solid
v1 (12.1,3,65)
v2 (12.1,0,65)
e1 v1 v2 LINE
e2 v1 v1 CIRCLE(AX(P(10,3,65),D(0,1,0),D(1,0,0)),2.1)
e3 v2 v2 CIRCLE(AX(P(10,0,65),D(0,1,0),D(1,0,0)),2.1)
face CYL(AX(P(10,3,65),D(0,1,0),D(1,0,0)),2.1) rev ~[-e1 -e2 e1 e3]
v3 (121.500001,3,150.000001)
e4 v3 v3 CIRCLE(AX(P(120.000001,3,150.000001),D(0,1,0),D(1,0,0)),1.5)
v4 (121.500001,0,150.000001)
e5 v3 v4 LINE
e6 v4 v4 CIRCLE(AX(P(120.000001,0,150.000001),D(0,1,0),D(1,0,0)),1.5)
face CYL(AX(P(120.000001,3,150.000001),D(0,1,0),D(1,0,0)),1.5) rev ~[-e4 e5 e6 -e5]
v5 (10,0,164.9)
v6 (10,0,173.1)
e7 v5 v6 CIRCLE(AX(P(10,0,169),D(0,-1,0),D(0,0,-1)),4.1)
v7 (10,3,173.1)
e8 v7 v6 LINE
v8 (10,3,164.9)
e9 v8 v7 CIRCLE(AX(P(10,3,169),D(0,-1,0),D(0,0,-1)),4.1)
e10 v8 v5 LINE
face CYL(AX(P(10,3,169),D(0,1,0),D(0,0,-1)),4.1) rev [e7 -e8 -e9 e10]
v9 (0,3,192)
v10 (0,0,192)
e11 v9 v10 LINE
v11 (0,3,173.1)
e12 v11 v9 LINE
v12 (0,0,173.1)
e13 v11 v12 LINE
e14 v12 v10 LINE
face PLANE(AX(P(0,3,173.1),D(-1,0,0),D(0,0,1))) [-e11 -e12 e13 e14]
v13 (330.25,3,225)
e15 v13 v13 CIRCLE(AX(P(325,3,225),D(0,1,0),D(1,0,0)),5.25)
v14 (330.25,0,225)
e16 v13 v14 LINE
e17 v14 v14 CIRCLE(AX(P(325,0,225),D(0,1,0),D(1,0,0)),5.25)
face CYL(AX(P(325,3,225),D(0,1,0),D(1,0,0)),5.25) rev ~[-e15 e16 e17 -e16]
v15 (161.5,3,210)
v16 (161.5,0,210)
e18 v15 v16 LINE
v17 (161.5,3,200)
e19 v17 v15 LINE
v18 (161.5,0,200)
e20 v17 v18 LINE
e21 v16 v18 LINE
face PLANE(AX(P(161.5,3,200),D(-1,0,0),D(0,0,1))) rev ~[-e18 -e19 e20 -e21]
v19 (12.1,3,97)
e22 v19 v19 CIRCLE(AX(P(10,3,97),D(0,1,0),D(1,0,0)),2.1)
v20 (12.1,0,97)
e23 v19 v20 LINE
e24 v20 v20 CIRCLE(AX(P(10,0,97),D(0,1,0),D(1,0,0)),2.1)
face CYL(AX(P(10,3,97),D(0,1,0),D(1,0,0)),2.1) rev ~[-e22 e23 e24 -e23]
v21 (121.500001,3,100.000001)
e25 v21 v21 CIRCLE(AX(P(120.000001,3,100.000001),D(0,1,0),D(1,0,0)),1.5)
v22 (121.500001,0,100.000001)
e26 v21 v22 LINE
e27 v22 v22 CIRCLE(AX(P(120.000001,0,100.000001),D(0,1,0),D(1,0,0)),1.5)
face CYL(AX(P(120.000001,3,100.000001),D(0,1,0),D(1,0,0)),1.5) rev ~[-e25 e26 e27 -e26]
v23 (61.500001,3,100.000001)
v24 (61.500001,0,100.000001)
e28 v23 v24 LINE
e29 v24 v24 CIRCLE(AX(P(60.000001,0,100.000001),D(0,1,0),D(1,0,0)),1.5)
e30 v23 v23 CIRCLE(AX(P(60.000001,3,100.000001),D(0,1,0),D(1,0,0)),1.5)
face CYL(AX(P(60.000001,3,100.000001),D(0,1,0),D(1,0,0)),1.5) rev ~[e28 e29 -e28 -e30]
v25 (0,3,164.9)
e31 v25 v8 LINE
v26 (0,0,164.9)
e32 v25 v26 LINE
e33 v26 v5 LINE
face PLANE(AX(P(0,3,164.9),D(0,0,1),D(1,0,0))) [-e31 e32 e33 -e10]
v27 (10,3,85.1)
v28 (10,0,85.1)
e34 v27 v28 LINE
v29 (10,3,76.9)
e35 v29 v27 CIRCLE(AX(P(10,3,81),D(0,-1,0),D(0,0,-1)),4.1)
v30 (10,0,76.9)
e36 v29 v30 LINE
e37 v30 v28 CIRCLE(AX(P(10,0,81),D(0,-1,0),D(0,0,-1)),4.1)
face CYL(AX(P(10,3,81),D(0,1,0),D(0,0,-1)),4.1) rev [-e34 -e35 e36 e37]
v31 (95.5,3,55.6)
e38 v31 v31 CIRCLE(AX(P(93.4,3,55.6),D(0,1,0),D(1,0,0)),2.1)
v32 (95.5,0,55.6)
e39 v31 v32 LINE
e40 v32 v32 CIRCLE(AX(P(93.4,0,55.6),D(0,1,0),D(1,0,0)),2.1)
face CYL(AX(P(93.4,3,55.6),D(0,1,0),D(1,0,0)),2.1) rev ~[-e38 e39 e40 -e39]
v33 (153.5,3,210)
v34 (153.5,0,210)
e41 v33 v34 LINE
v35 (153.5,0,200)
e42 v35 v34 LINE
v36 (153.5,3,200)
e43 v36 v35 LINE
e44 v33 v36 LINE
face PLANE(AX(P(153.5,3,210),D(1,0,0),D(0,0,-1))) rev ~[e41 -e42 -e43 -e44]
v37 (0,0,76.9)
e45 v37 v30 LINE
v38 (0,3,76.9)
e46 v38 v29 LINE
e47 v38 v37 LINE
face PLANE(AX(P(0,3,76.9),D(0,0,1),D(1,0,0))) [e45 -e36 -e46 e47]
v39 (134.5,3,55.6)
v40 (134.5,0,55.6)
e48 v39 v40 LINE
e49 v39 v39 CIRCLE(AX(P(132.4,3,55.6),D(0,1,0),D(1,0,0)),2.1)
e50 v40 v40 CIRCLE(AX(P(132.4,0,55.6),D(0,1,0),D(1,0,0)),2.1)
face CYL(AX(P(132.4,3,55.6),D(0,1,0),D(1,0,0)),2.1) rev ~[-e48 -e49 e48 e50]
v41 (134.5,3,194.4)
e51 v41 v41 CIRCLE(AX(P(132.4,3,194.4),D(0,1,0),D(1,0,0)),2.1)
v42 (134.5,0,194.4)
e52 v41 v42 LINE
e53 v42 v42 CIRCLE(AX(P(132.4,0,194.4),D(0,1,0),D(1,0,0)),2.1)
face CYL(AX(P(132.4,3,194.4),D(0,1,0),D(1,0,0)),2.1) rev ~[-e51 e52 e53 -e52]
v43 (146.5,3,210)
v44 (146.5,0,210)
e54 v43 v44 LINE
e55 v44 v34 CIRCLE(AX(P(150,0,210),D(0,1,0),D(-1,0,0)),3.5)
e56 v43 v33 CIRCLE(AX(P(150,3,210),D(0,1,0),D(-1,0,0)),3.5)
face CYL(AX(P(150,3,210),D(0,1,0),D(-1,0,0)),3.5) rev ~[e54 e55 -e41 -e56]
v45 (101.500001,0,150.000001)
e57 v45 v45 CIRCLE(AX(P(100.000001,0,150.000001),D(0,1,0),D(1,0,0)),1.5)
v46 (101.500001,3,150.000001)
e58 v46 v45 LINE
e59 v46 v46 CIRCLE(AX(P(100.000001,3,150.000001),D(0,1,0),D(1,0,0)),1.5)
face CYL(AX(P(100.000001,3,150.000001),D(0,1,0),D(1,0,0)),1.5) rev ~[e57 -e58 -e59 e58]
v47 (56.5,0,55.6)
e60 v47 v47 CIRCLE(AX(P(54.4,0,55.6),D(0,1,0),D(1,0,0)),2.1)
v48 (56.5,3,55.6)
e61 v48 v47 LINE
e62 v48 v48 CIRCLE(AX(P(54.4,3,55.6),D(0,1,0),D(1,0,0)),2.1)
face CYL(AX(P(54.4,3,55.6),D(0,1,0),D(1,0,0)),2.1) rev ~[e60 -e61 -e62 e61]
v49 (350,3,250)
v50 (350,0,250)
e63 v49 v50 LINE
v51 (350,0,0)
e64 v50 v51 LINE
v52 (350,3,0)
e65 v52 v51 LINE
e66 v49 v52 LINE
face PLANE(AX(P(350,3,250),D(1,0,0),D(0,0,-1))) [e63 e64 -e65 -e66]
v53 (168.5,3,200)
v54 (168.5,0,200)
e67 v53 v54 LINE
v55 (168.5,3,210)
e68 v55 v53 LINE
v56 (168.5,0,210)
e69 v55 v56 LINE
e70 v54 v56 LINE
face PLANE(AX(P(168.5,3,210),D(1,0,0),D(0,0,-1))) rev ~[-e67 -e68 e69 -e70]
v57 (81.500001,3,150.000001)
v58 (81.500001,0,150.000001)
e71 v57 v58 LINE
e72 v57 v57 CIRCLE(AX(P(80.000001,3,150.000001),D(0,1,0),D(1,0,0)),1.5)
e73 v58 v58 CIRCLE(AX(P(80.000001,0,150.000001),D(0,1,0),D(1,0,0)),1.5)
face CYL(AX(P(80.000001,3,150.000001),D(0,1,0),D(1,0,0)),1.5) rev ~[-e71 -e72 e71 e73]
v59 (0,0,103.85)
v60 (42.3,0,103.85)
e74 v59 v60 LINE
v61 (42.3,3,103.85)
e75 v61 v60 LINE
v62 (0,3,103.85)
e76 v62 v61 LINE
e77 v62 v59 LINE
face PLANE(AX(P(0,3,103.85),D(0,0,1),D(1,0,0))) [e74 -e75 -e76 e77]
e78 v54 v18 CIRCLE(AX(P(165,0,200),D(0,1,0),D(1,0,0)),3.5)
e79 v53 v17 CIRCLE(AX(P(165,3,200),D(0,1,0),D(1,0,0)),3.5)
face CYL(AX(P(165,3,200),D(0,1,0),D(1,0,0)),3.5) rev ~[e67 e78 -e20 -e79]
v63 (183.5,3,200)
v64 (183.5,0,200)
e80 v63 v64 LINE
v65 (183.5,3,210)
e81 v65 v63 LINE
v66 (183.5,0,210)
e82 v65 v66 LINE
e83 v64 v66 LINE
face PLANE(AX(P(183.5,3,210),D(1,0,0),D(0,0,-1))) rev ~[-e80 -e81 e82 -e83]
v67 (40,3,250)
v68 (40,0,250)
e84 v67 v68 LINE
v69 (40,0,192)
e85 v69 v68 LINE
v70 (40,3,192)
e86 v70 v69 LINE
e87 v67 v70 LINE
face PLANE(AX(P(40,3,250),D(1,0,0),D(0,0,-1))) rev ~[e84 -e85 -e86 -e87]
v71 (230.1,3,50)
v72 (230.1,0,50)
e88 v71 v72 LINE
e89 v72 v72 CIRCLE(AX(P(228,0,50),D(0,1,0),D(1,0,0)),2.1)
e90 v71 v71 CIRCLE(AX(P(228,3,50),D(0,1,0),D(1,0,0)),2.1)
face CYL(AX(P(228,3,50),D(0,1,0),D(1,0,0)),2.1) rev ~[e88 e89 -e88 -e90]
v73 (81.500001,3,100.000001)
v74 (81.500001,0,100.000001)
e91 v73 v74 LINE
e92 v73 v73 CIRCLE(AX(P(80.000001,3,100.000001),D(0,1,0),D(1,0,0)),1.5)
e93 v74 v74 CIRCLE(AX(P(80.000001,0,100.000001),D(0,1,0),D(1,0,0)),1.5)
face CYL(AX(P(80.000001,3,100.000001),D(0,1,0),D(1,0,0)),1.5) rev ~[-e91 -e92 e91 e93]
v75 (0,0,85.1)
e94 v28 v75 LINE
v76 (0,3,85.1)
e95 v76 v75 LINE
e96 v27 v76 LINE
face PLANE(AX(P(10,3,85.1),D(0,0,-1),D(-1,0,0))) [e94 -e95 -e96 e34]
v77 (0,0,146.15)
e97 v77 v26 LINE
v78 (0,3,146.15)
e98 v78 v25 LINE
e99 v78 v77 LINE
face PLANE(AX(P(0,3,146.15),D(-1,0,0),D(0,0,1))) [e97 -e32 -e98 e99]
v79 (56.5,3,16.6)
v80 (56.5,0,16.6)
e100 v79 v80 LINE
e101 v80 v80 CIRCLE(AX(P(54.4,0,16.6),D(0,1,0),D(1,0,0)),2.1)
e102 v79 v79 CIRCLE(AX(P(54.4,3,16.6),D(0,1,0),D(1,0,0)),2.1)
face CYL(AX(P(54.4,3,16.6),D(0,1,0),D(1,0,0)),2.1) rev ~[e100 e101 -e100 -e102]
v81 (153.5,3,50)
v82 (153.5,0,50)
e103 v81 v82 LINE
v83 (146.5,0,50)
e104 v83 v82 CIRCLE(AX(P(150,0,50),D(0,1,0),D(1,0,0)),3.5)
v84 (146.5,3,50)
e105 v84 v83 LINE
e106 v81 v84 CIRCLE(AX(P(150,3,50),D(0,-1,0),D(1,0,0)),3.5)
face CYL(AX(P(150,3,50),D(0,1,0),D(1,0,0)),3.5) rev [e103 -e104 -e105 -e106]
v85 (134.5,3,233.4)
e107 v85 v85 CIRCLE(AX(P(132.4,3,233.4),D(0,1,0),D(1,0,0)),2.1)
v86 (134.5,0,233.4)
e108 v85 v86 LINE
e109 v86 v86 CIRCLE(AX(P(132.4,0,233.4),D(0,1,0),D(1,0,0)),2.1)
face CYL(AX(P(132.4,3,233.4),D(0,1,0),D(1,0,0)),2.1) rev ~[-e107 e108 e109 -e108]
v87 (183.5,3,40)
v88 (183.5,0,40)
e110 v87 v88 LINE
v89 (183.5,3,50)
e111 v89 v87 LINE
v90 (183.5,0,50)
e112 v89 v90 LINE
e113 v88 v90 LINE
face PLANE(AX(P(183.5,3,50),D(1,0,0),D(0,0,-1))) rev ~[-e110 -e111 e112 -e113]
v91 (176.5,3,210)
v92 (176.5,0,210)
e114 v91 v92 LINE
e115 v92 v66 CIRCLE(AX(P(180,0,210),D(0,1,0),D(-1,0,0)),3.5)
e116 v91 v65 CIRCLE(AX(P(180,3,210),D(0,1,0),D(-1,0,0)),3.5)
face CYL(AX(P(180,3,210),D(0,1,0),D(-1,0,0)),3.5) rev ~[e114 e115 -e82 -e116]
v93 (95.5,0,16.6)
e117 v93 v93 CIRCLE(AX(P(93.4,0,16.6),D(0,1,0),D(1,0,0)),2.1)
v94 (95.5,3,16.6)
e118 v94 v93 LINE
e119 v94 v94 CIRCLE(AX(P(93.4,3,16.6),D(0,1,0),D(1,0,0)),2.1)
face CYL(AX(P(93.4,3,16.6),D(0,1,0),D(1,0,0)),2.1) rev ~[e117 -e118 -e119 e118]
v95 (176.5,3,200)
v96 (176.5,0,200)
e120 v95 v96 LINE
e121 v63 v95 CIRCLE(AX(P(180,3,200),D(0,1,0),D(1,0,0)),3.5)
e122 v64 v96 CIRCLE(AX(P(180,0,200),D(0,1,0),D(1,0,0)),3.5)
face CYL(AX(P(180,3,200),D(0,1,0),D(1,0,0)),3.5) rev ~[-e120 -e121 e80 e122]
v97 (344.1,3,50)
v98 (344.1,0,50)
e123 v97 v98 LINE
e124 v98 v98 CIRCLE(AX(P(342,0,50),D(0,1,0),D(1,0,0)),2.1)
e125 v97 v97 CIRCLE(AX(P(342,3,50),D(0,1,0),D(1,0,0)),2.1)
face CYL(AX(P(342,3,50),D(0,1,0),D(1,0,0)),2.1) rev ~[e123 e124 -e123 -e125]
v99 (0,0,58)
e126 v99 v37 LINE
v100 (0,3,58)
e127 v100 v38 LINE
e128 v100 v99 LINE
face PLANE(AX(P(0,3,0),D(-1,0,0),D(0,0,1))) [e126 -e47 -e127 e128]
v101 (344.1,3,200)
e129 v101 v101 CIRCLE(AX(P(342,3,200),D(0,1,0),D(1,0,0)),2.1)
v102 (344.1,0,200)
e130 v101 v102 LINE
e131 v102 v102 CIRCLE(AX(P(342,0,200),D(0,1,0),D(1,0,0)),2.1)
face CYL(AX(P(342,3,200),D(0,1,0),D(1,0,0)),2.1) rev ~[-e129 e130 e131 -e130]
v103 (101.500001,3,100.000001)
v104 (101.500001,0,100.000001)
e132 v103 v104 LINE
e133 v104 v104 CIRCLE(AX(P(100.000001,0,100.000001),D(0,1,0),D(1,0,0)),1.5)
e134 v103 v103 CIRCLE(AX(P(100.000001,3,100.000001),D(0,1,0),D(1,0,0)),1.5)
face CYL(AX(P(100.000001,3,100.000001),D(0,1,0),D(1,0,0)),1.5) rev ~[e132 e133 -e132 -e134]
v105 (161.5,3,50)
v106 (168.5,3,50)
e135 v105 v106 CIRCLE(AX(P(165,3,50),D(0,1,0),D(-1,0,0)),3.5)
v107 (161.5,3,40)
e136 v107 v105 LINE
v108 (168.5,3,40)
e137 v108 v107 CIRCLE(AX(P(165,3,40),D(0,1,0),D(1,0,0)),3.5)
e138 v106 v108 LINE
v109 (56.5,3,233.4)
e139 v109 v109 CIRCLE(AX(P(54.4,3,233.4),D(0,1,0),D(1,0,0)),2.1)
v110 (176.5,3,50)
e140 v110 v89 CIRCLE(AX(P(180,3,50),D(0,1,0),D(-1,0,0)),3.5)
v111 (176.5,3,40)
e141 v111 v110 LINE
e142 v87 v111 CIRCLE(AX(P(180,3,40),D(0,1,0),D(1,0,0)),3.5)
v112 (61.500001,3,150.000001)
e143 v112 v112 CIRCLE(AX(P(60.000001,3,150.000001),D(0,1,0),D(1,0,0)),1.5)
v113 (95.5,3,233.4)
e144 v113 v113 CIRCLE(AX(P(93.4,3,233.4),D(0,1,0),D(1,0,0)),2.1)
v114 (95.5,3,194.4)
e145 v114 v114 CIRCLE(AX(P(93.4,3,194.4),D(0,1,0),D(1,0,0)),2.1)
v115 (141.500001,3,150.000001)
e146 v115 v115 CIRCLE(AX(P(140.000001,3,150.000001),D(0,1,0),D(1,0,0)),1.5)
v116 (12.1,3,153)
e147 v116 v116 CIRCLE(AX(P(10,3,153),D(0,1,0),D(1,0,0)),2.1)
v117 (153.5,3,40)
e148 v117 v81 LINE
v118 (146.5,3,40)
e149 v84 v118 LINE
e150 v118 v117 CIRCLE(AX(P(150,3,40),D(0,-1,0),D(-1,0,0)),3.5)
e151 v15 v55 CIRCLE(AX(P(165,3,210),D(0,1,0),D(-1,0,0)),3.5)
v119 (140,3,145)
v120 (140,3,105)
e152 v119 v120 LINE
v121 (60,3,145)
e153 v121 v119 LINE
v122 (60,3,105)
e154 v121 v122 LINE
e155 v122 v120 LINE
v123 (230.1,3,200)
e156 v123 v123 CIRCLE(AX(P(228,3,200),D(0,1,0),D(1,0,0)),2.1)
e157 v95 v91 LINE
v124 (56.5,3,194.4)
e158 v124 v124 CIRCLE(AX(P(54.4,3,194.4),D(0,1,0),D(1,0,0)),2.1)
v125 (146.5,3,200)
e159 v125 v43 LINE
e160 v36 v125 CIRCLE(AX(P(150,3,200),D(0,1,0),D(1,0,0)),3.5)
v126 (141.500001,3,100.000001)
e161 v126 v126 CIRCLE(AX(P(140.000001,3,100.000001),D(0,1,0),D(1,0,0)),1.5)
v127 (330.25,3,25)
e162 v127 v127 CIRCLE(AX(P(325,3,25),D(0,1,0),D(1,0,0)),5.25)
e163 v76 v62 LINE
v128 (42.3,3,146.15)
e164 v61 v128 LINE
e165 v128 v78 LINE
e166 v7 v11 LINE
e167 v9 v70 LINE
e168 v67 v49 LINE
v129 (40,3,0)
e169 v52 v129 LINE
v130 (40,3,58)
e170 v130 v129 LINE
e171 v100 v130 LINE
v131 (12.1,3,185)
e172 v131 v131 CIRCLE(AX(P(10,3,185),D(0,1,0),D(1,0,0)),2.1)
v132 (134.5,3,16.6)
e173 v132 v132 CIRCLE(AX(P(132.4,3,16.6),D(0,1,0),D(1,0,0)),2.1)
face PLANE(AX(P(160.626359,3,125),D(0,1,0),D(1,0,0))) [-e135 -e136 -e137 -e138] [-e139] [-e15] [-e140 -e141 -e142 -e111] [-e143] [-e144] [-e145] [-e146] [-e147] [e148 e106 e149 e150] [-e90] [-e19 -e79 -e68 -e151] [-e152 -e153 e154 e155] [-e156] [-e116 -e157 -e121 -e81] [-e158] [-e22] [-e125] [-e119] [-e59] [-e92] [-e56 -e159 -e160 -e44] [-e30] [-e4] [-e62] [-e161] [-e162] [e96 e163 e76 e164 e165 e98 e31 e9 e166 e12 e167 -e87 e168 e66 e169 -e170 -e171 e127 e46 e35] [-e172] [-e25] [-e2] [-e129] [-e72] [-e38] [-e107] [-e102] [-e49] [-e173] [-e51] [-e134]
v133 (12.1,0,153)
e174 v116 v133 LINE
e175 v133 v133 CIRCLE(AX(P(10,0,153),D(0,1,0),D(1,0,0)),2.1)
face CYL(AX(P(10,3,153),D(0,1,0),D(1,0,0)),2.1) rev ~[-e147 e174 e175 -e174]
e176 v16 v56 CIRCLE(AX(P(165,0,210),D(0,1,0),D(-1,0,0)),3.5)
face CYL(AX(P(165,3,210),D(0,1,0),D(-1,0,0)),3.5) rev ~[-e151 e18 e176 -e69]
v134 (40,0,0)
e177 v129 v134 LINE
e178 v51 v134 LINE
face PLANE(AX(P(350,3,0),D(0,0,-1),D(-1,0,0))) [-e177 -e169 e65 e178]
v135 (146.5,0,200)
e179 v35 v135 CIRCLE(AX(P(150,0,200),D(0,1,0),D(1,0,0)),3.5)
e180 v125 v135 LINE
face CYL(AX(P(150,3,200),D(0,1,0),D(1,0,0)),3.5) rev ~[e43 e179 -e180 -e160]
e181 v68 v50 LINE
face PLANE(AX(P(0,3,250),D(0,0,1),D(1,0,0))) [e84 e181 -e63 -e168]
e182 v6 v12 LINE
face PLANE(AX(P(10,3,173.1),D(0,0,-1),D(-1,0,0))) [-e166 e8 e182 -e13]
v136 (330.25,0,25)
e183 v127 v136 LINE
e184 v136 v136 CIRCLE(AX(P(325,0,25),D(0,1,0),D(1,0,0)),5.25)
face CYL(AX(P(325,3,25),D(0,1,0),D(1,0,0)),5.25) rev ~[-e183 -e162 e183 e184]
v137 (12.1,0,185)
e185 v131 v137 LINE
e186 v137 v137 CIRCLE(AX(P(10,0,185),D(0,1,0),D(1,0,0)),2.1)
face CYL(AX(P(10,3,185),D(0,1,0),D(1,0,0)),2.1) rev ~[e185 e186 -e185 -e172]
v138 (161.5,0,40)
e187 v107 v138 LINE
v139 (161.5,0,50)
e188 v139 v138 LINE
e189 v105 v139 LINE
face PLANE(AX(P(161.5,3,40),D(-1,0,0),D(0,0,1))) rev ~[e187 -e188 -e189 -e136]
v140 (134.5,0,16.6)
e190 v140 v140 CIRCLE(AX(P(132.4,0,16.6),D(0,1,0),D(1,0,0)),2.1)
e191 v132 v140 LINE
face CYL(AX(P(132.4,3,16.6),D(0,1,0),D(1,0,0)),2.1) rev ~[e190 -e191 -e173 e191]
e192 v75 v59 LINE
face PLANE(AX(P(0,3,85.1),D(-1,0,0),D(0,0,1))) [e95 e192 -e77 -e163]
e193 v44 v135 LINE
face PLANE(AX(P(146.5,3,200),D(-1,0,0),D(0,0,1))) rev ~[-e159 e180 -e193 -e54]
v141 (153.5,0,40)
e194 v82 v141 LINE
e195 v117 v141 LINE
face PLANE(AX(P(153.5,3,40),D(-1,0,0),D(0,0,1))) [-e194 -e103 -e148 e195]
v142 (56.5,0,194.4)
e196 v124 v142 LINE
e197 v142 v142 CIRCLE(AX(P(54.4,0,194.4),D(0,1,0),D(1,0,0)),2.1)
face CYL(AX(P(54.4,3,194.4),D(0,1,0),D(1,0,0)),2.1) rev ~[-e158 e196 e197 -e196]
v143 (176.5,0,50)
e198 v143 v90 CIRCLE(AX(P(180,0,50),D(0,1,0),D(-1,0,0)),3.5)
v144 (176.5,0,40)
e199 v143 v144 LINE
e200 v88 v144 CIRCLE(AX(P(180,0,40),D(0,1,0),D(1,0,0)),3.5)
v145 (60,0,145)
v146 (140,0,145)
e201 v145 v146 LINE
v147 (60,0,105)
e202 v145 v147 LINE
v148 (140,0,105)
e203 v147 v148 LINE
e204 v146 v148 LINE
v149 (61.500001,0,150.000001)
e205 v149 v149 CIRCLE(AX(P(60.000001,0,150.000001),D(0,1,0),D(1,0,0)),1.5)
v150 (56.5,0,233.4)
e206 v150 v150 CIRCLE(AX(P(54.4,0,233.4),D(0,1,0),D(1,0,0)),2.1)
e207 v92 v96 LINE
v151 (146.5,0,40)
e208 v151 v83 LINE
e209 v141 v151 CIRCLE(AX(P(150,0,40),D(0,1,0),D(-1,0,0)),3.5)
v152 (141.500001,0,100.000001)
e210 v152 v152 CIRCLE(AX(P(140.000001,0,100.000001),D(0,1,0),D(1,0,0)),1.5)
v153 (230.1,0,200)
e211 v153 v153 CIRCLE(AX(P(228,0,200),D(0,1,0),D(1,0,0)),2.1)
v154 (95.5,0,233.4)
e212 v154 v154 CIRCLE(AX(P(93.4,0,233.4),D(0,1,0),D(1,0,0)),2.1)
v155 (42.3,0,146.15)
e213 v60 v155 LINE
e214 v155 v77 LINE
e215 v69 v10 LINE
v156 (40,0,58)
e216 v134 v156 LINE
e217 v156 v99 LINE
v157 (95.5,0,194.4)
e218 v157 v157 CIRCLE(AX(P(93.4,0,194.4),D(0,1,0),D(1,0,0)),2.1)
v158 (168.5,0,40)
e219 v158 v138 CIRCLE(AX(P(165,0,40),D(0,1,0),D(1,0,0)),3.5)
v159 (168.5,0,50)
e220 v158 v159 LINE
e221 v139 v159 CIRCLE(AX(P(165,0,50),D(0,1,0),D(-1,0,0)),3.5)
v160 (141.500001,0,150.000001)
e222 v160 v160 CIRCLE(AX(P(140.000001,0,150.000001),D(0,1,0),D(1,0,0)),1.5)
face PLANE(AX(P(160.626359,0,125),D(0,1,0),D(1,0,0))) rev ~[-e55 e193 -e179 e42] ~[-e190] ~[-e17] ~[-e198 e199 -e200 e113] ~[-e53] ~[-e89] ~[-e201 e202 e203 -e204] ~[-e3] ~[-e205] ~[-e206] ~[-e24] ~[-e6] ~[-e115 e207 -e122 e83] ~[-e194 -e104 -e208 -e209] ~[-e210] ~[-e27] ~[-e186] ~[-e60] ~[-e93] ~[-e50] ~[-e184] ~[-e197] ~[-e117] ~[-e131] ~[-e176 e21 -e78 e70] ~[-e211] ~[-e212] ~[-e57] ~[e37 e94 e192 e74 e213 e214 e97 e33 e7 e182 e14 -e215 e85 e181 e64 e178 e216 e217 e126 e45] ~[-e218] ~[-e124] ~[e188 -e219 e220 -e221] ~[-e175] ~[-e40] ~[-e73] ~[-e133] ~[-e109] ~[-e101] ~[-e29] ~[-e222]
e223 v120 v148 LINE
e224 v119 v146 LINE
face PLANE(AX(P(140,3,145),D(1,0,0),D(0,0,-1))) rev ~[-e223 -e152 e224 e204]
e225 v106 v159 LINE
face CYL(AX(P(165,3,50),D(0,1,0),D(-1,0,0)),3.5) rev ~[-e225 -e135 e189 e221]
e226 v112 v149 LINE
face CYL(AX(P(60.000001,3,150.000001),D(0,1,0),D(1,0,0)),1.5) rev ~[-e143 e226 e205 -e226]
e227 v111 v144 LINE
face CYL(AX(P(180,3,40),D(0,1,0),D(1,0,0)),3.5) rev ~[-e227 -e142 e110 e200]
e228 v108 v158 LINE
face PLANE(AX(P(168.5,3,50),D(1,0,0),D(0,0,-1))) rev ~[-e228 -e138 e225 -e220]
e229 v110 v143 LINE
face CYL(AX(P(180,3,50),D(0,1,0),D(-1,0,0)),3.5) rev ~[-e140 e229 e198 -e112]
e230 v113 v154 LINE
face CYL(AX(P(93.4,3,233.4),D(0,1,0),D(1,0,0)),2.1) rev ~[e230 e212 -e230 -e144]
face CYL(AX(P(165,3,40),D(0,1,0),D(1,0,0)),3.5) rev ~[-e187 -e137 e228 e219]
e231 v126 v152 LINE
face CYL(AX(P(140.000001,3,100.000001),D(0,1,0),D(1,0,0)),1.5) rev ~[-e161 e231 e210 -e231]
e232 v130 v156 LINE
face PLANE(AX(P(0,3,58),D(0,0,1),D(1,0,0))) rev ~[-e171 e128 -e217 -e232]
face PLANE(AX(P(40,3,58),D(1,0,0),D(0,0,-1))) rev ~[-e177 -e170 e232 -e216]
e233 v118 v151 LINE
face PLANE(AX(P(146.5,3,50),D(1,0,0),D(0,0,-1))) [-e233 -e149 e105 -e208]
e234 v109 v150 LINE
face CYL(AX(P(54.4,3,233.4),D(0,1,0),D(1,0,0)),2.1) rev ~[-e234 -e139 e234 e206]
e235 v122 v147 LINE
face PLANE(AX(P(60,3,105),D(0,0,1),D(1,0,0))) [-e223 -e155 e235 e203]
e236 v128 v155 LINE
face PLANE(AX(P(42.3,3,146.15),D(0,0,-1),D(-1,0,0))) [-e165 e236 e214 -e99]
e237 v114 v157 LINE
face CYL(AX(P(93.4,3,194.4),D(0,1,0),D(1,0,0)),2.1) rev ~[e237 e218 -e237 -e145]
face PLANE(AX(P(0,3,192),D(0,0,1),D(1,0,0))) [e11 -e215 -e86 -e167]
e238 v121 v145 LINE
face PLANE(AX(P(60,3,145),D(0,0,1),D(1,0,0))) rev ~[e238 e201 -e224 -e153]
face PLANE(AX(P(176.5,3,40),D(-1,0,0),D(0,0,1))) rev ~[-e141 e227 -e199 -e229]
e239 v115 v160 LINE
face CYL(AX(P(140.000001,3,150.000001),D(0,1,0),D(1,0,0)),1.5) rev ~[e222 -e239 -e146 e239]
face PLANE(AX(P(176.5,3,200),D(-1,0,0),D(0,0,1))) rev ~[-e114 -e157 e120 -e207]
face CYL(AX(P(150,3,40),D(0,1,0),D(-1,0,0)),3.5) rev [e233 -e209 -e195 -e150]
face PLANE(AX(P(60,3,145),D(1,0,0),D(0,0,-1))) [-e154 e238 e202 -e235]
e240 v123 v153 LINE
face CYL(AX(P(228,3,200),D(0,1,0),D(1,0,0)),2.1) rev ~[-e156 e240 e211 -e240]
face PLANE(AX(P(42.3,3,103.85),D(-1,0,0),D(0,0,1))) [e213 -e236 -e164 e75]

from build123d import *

# Parameters (mm, degrees)
ESQUISSE1_R             = 1.5
ESQUISSE1_R_2           = 5.25
ESQUISSE1_R_3           = 2.1
ESQUISSE1_W             = 80
ESQUISSE1_H             = 40
BOSS_EXTRU_1_DEPTH      = 3
ENL_V_MAT_EXTRU_1_REACH = 5
ESQUISSE2_R             = 2.1
ESQUISSE2_W             = 40
ESQUISSE2_H             = 58


with BuildPart() as part:
    # Esquisse1 → Boss.-Extru.1 (new body)
    with BuildSketch(Plane(origin=(0, 3, 0), x_dir=(1, 0, 0), z_dir=(0, 1, 0))):
        with BuildLine():
            Line((0, -103.85), (42.3, -103.85))
            Line((42.3, -103.85), (42.3, -146.15))
            Line((42.3, -146.15), (0, -146.15))
            Line((0, -146.15), (0, -164.900000363))
            Line((0, -164.900000363), (10.000000149, -164.900000363))
            ThreePointArc((10.000000149, -164.900000363), (14.100000149, -169.000000363), (10.000000149, -173.100000363))
            Line((10.000000149, -173.100000363), (0, -173.100000363))
            Line((0, -173.100000363), (0, -250))
            Line((0, -250), (350, -250))
            Line((350, -250), (350, 0))
            Line((350, 0), (0, 0))
            Line((0, 0), (0, -76.900000363))
            Line((0, -76.900000363), (10.000000149, -76.900000363))
            ThreePointArc((10.000000149, -76.900000363), (14.100000149, -81.000000363), (10.000000149, -85.100000363))
            Line((10.000000149, -85.100000363), (0, -85.100000363))
            Line((0, -85.100000363), (0, -103.85))
        make_face()
        with Locations((140.000001341, -150.00000149)):
            Circle(ESQUISSE1_R, mode=Mode.SUBTRACT)
        with Locations((120.000001341, -150.00000149)):
            Circle(ESQUISSE1_R, mode=Mode.SUBTRACT)
        with Locations((100.000001341, -150.00000149)):
            Circle(ESQUISSE1_R, mode=Mode.SUBTRACT)
        with Locations((80.000001341, -150.00000149)):
            Circle(ESQUISSE1_R, mode=Mode.SUBTRACT)
        with Locations((60.000001341, -150.00000149)):
            Circle(ESQUISSE1_R, mode=Mode.SUBTRACT)
        with Locations((140.000001341, -100.00000149)):
            Circle(ESQUISSE1_R, mode=Mode.SUBTRACT)
        with Locations((120.000001341, -100.00000149)):
            Circle(ESQUISSE1_R, mode=Mode.SUBTRACT)
        with Locations((100.000001341, -100.00000149)):
            Circle(ESQUISSE1_R, mode=Mode.SUBTRACT)
        with Locations((80.000001341, -100.00000149)):
            Circle(ESQUISSE1_R, mode=Mode.SUBTRACT)
        with Locations((60.000001341, -100.00000149)):
            Circle(ESQUISSE1_R, mode=Mode.SUBTRACT)
        with Locations((325, -225)):
            Circle(ESQUISSE1_R_2, mode=Mode.SUBTRACT)
        with Locations((325, -25)):
            Circle(ESQUISSE1_R_2, mode=Mode.SUBTRACT)
        with Locations((10, -97)):
            Circle(ESQUISSE1_R_3, mode=Mode.SUBTRACT)
        with Locations((10, -153)):
            Circle(ESQUISSE1_R_3, mode=Mode.SUBTRACT)
        with Locations((10, -185)):
            Circle(ESQUISSE1_R_3, mode=Mode.SUBTRACT)
        with Locations((10, -65)):
            Circle(ESQUISSE1_R_3, mode=Mode.SUBTRACT)
        with Locations((100, -125)):
            Rectangle(ESQUISSE1_W, ESQUISSE1_H, mode=Mode.SUBTRACT)
    extrude(amount=-BOSS_EXTRU_1_DEPTH)

    # Esquisse2 → Enlèv. mat.-Extru.1 (cut, up to next)
    with BuildSketch(Plane(origin=(0, 3, 0), x_dir=(1, 0, 0), z_dir=(0, 1, 0)), mode=Mode.PRIVATE) as enl_v_mat_extru_1_sk1:
        with Locations((54.4, -194.4)):
            Circle(ESQUISSE2_R)
    enl_v_mat_extru_1_tool1 = extrude(enl_v_mat_extru_1_sk1.sketch, amount=-ENL_V_MAT_EXTRU_1_REACH, mode=Mode.PRIVATE) & part.part
    add(enl_v_mat_extru_1_tool1.solids().sort_by_distance((54.4, 3, 194.4))[0], mode=Mode.SUBTRACT)
    # Esquisse2 → Enlèv. mat.-Extru.1 (cut, up to next)
    with BuildSketch(Plane(origin=(0, 3, 0), x_dir=(1, 0, 0), z_dir=(0, 1, 0)), mode=Mode.PRIVATE) as enl_v_mat_extru_1_sk2:
        with Locations((93.4, -194.4)):
            Circle(ESQUISSE2_R)
    enl_v_mat_extru_1_tool2 = extrude(enl_v_mat_extru_1_sk2.sketch, amount=-ENL_V_MAT_EXTRU_1_REACH, mode=Mode.PRIVATE) & part.part
    add(enl_v_mat_extru_1_tool2.solids().sort_by_distance((93.4, 3, 194.4))[0], mode=Mode.SUBTRACT)
    # Esquisse2 → Enlèv. mat.-Extru.1 (cut, up to next)
    with BuildSketch(Plane(origin=(0, 3, 0), x_dir=(1, 0, 0), z_dir=(0, 1, 0)), mode=Mode.PRIVATE) as enl_v_mat_extru_1_sk3:
        with Locations((93.4, -233.4)):
            Circle(ESQUISSE2_R)
    enl_v_mat_extru_1_tool3 = extrude(enl_v_mat_extru_1_sk3.sketch, amount=-ENL_V_MAT_EXTRU_1_REACH, mode=Mode.PRIVATE) & part.part
    add(enl_v_mat_extru_1_tool3.solids().sort_by_distance((93.4, 3, 233.4))[0], mode=Mode.SUBTRACT)
    # Esquisse2 → Enlèv. mat.-Extru.1 (cut, up to next)
    with BuildSketch(Plane(origin=(0, 3, 0), x_dir=(1, 0, 0), z_dir=(0, 1, 0)), mode=Mode.PRIVATE) as enl_v_mat_extru_1_sk4:
        with Locations((54.4, -233.4)):
            Circle(ESQUISSE2_R)
    enl_v_mat_extru_1_tool4 = extrude(enl_v_mat_extru_1_sk4.sketch, amount=-ENL_V_MAT_EXTRU_1_REACH, mode=Mode.PRIVATE) & part.part
    add(enl_v_mat_extru_1_tool4.solids().sort_by_distance((54.4, 3, 233.4))[0], mode=Mode.SUBTRACT)
    # Esquisse2 → Enlèv. mat.-Extru.1 (cut, up to next)
    with BuildSketch(Plane(origin=(0, 3, 0), x_dir=(1, 0, 0), z_dir=(0, 1, 0)), mode=Mode.PRIVATE) as enl_v_mat_extru_1_sk5:
        with Locations((54.4, -16.6)):
            Circle(ESQUISSE2_R)
    enl_v_mat_extru_1_tool5 = extrude(enl_v_mat_extru_1_sk5.sketch, amount=-ENL_V_MAT_EXTRU_1_REACH, mode=Mode.PRIVATE) & part.part
    add(enl_v_mat_extru_1_tool5.solids().sort_by_distance((54.4, 3, 16.6))[0], mode=Mode.SUBTRACT)
    # Esquisse2 → Enlèv. mat.-Extru.1 (cut, up to next)
    with BuildSketch(Plane(origin=(0, 3, 0), x_dir=(1, 0, 0), z_dir=(0, 1, 0)), mode=Mode.PRIVATE) as enl_v_mat_extru_1_sk6:
        with Locations((93.4, -16.6)):
            Circle(ESQUISSE2_R)
    enl_v_mat_extru_1_tool6 = extrude(enl_v_mat_extru_1_sk6.sketch, amount=-ENL_V_MAT_EXTRU_1_REACH, mode=Mode.PRIVATE) & part.part
    add(enl_v_mat_extru_1_tool6.solids().sort_by_distance((93.4, 3, 16.6))[0], mode=Mode.SUBTRACT)
    # Esquisse2 → Enlèv. mat.-Extru.1 (cut, up to next)
    with BuildSketch(Plane(origin=(0, 3, 0), x_dir=(1, 0, 0), z_dir=(0, 1, 0)), mode=Mode.PRIVATE) as enl_v_mat_extru_1_sk7:
        with Locations((93.4, -55.6)):
            Circle(ESQUISSE2_R)
    enl_v_mat_extru_1_tool7 = extrude(enl_v_mat_extru_1_sk7.sketch, amount=-ENL_V_MAT_EXTRU_1_REACH, mode=Mode.PRIVATE) & part.part
    add(enl_v_mat_extru_1_tool7.solids().sort_by_distance((93.4, 3, 55.6))[0], mode=Mode.SUBTRACT)
    # Esquisse2 → Enlèv. mat.-Extru.1 (cut, up to next)
    with BuildSketch(Plane(origin=(0, 3, 0), x_dir=(1, 0, 0), z_dir=(0, 1, 0)), mode=Mode.PRIVATE) as enl_v_mat_extru_1_sk8:
        with Locations((54.4, -55.6)):
            Circle(ESQUISSE2_R)
    enl_v_mat_extru_1_tool8 = extrude(enl_v_mat_extru_1_sk8.sketch, amount=-ENL_V_MAT_EXTRU_1_REACH, mode=Mode.PRIVATE) & part.part
    add(enl_v_mat_extru_1_tool8.solids().sort_by_distance((54.4, 3, 55.6))[0], mode=Mode.SUBTRACT)
    # Esquisse2 → Enlèv. mat.-Extru.1 (cut, up to next)
    with BuildSketch(Plane(origin=(0, 3, 0), x_dir=(1, 0, 0), z_dir=(0, 1, 0)), mode=Mode.PRIVATE) as enl_v_mat_extru_1_sk9:
        with Locations((342, -200)):
            Circle(ESQUISSE2_R)
    enl_v_mat_extru_1_tool9 = extrude(enl_v_mat_extru_1_sk9.sketch, amount=-ENL_V_MAT_EXTRU_1_REACH, mode=Mode.PRIVATE) & part.part
    add(enl_v_mat_extru_1_tool9.solids().sort_by_distance((342, 3, 200))[0], mode=Mode.SUBTRACT)
    # Esquisse2 → Enlèv. mat.-Extru.1 (cut, up to next)
    with BuildSketch(Plane(origin=(0, 3, 0), x_dir=(1, 0, 0), z_dir=(0, 1, 0)), mode=Mode.PRIVATE) as enl_v_mat_extru_1_sk10:
        with Locations((342, -50)):
            Circle(ESQUISSE2_R)
    enl_v_mat_extru_1_tool10 = extrude(enl_v_mat_extru_1_sk10.sketch, amount=-ENL_V_MAT_EXTRU_1_REACH, mode=Mode.PRIVATE) & part.part
    add(enl_v_mat_extru_1_tool10.solids().sort_by_distance((342, 3, 50))[0], mode=Mode.SUBTRACT)
    # Esquisse2 → Enlèv. mat.-Extru.1 (cut, up to next)
    with BuildSketch(Plane(origin=(0, 3, 0), x_dir=(1, 0, 0), z_dir=(0, 1, 0)), mode=Mode.PRIVATE) as enl_v_mat_extru_1_sk11:
        with Locations((228, -50)):
            Circle(ESQUISSE2_R)
    enl_v_mat_extru_1_tool11 = extrude(enl_v_mat_extru_1_sk11.sketch, amount=-ENL_V_MAT_EXTRU_1_REACH, mode=Mode.PRIVATE) & part.part
    add(enl_v_mat_extru_1_tool11.solids().sort_by_distance((228, 3, 50))[0], mode=Mode.SUBTRACT)
    # Esquisse2 → Enlèv. mat.-Extru.1 (cut, up to next)
    with BuildSketch(Plane(origin=(0, 3, 0), x_dir=(1, 0, 0), z_dir=(0, 1, 0)), mode=Mode.PRIVATE) as enl_v_mat_extru_1_sk12:
        with Locations((228, -200)):
            Circle(ESQUISSE2_R)
    enl_v_mat_extru_1_tool12 = extrude(enl_v_mat_extru_1_sk12.sketch, amount=-ENL_V_MAT_EXTRU_1_REACH, mode=Mode.PRIVATE) & part.part
    add(enl_v_mat_extru_1_tool12.solids().sort_by_distance((228, 3, 200))[0], mode=Mode.SUBTRACT)
    # Esquisse2 → Enlèv. mat.-Extru.1 (cut, up to next)
    with BuildSketch(Plane(origin=(0, 3, 0), x_dir=(1, 0, 0), z_dir=(0, 1, 0)), mode=Mode.PRIVATE) as enl_v_mat_extru_1_sk13:
        with Locations((132.4, -16.6)):
            Circle(ESQUISSE2_R)
    enl_v_mat_extru_1_tool13 = extrude(enl_v_mat_extru_1_sk13.sketch, amount=-ENL_V_MAT_EXTRU_1_REACH, mode=Mode.PRIVATE) & part.part
    add(enl_v_mat_extru_1_tool13.solids().sort_by_distance((132.4, 3, 16.6))[0], mode=Mode.SUBTRACT)
    # Esquisse2 → Enlèv. mat.-Extru.1 (cut, up to next)
    with BuildSketch(Plane(origin=(0, 3, 0), x_dir=(1, 0, 0), z_dir=(0, 1, 0)), mode=Mode.PRIVATE) as enl_v_mat_extru_1_sk14:
        with Locations((132.4, -55.6)):
            Circle(ESQUISSE2_R)
    enl_v_mat_extru_1_tool14 = extrude(enl_v_mat_extru_1_sk14.sketch, amount=-ENL_V_MAT_EXTRU_1_REACH, mode=Mode.PRIVATE) & part.part
    add(enl_v_mat_extru_1_tool14.solids().sort_by_distance((132.4, 3, 55.6))[0], mode=Mode.SUBTRACT)
    # Esquisse2 → Enlèv. mat.-Extru.1 (cut, up to next)
    with BuildSketch(Plane(origin=(0, 3, 0), x_dir=(1, 0, 0), z_dir=(0, 1, 0)), mode=Mode.PRIVATE) as enl_v_mat_extru_1_sk15:
        with Locations((132.4, -194.4)):
            Circle(ESQUISSE2_R)
    enl_v_mat_extru_1_tool15 = extrude(enl_v_mat_extru_1_sk15.sketch, amount=-ENL_V_MAT_EXTRU_1_REACH, mode=Mode.PRIVATE) & part.part
    add(enl_v_mat_extru_1_tool15.solids().sort_by_distance((132.4, 3, 194.4))[0], mode=Mode.SUBTRACT)
    # Esquisse2 → Enlèv. mat.-Extru.1 (cut, up to next)
    with BuildSketch(Plane(origin=(0, 3, 0), x_dir=(1, 0, 0), z_dir=(0, 1, 0)), mode=Mode.PRIVATE) as enl_v_mat_extru_1_sk16:
        with Locations((132.4, -233.4)):
            Circle(ESQUISSE2_R)
    enl_v_mat_extru_1_tool16 = extrude(enl_v_mat_extru_1_sk16.sketch, amount=-ENL_V_MAT_EXTRU_1_REACH, mode=Mode.PRIVATE) & part.part
    add(enl_v_mat_extru_1_tool16.solids().sort_by_distance((132.4, 3, 233.4))[0], mode=Mode.SUBTRACT)
    # Esquisse2 → Enlèv. mat.-Extru.1 (cut, up to next)
    with BuildSketch(Plane(origin=(0, 3, 0), x_dir=(1, 0, 0), z_dir=(0, 1, 0)), mode=Mode.PRIVATE) as enl_v_mat_extru_1_sk17:
        with BuildLine():
            Line((153.5, -40), (153.5, -50))
            ThreePointArc((153.5, -50), (150, -53.5), (146.5, -50))
            Line((146.5, -50), (146.5, -40))
            ThreePointArc((146.5, -40), (150, -36.5), (153.5, -40))
        make_face()
    enl_v_mat_extru_1_tool17 = extrude(enl_v_mat_extru_1_sk17.sketch, amount=-ENL_V_MAT_EXTRU_1_REACH, mode=Mode.PRIVATE) & part.part
    add(enl_v_mat_extru_1_tool17.solids().sort_by_distance((150, 3, 45))[0], mode=Mode.SUBTRACT)
    # Esquisse2 → Enlèv. mat.-Extru.1 (cut, up to next)
    with BuildSketch(Plane(origin=(0, 3, 0), x_dir=(1, 0, 0), z_dir=(0, 1, 0)), mode=Mode.PRIVATE) as enl_v_mat_extru_1_sk18:
        with BuildLine():
            Line((161.5, -40), (161.5, -50))
            ThreePointArc((161.5, -50), (165, -53.5), (168.5, -50))
            Line((168.5, -50), (168.5, -40))
            ThreePointArc((168.5, -40), (165, -36.5), (161.5, -40))
        make_face()
    enl_v_mat_extru_1_tool18 = extrude(enl_v_mat_extru_1_sk18.sketch, amount=-ENL_V_MAT_EXTRU_1_REACH, mode=Mode.PRIVATE) & part.part
    add(enl_v_mat_extru_1_tool18.solids().sort_by_distance((165, 3, 45))[0], mode=Mode.SUBTRACT)
    # Esquisse2 → Enlèv. mat.-Extru.1 (cut, up to next)
    with BuildSketch(Plane(origin=(0, 3, 0), x_dir=(1, 0, 0), z_dir=(0, 1, 0)), mode=Mode.PRIVATE) as enl_v_mat_extru_1_sk19:
        with BuildLine():
            Line((176.5, -40), (176.5, -50))
            ThreePointArc((176.5, -50), (180, -53.5), (183.5, -50))
            Line((183.5, -50), (183.5, -40))
            ThreePointArc((183.5, -40), (180, -36.5), (176.5, -40))
        make_face()
    enl_v_mat_extru_1_tool19 = extrude(enl_v_mat_extru_1_sk19.sketch, amount=-ENL_V_MAT_EXTRU_1_REACH, mode=Mode.PRIVATE) & part.part
    add(enl_v_mat_extru_1_tool19.solids().sort_by_distance((180, 3, 45))[0], mode=Mode.SUBTRACT)
    # Esquisse2 → Enlèv. mat.-Extru.1 (cut, up to next)
    with BuildSketch(Plane(origin=(0, 3, 0), x_dir=(1, 0, 0), z_dir=(0, 1, 0)), mode=Mode.PRIVATE) as enl_v_mat_extru_1_sk20:
        with BuildLine():
            Line((183.5, -210), (183.5, -200))
            ThreePointArc((183.5, -200), (180, -196.5), (176.5, -200))
            Line((176.5, -200), (176.5, -210))
            ThreePointArc((176.5, -210), (180, -213.5), (183.5, -210))
        make_face()
    enl_v_mat_extru_1_tool20 = extrude(enl_v_mat_extru_1_sk20.sketch, amount=-ENL_V_MAT_EXTRU_1_REACH, mode=Mode.PRIVATE) & part.part
    add(enl_v_mat_extru_1_tool20.solids().sort_by_distance((180, 3, 205))[0], mode=Mode.SUBTRACT)
    # Esquisse2 → Enlèv. mat.-Extru.1 (cut, up to next)
    with BuildSketch(Plane(origin=(0, 3, 0), x_dir=(1, 0, 0), z_dir=(0, 1, 0)), mode=Mode.PRIVATE) as enl_v_mat_extru_1_sk21:
        with BuildLine():
            Line((168.5, -210), (168.5, -200))
            ThreePointArc((168.5, -200), (165, -196.5), (161.5, -200))
            Line((161.5, -200), (161.5, -210))
            ThreePointArc((161.5, -210), (165, -213.5), (168.5, -210))
        make_face()
    enl_v_mat_extru_1_tool21 = extrude(enl_v_mat_extru_1_sk21.sketch, amount=-ENL_V_MAT_EXTRU_1_REACH, mode=Mode.PRIVATE) & part.part
    add(enl_v_mat_extru_1_tool21.solids().sort_by_distance((165, 3, 205))[0], mode=Mode.SUBTRACT)
    # Esquisse2 → Enlèv. mat.-Extru.1 (cut, up to next)
    with BuildSketch(Plane(origin=(0, 3, 0), x_dir=(1, 0, 0), z_dir=(0, 1, 0)), mode=Mode.PRIVATE) as enl_v_mat_extru_1_sk22:
        with BuildLine():
            Line((153.5, -210), (153.5, -200))
            ThreePointArc((153.5, -200), (150, -196.5), (146.5, -200))
            Line((146.5, -200), (146.5, -210))
            ThreePointArc((146.5, -210), (150, -213.5), (153.5, -210))
        make_face()
    enl_v_mat_extru_1_tool22 = extrude(enl_v_mat_extru_1_sk22.sketch, amount=-ENL_V_MAT_EXTRU_1_REACH, mode=Mode.PRIVATE) & part.part
    add(enl_v_mat_extru_1_tool22.solids().sort_by_distance((150, 3, 205))[0], mode=Mode.SUBTRACT)
    # Esquisse2 → Enlèv. mat.-Extru.1 (cut, up to next)
    with BuildSketch(Plane(origin=(0, 3, 0), x_dir=(1, 0, 0), z_dir=(0, 1, 0)), mode=Mode.PRIVATE) as enl_v_mat_extru_1_sk23:
        with Locations((20, -221)):
            Rectangle(ESQUISSE2_W, ESQUISSE2_H)
    enl_v_mat_extru_1_tool23 = extrude(enl_v_mat_extru_1_sk23.sketch, amount=-ENL_V_MAT_EXTRU_1_REACH, mode=Mode.PRIVATE) & part.part
    add(enl_v_mat_extru_1_tool23.solids().sort_by_distance((20, 3, 221))[0], mode=Mode.SUBTRACT)
    # Esquisse2 → Enlèv. mat.-Extru.1 (cut, up to next)
    with BuildSketch(Plane(origin=(0, 3, 0), x_dir=(1, 0, 0), z_dir=(0, 1, 0)), mode=Mode.PRIVATE) as enl_v_mat_extru_1_sk24:
        with Locations((20, -29)):
            Rectangle(ESQUISSE2_W, ESQUISSE2_H)
    enl_v_mat_extru_1_tool24 = extrude(enl_v_mat_extru_1_sk24.sketch, amount=-ENL_V_MAT_EXTRU_1_REACH, mode=Mode.PRIVATE) & part.part
    add(enl_v_mat_extru_1_tool24.solids().sort_by_distance((20, 3, 29))[0], mode=Mode.SUBTRACT)


solid = part.part
